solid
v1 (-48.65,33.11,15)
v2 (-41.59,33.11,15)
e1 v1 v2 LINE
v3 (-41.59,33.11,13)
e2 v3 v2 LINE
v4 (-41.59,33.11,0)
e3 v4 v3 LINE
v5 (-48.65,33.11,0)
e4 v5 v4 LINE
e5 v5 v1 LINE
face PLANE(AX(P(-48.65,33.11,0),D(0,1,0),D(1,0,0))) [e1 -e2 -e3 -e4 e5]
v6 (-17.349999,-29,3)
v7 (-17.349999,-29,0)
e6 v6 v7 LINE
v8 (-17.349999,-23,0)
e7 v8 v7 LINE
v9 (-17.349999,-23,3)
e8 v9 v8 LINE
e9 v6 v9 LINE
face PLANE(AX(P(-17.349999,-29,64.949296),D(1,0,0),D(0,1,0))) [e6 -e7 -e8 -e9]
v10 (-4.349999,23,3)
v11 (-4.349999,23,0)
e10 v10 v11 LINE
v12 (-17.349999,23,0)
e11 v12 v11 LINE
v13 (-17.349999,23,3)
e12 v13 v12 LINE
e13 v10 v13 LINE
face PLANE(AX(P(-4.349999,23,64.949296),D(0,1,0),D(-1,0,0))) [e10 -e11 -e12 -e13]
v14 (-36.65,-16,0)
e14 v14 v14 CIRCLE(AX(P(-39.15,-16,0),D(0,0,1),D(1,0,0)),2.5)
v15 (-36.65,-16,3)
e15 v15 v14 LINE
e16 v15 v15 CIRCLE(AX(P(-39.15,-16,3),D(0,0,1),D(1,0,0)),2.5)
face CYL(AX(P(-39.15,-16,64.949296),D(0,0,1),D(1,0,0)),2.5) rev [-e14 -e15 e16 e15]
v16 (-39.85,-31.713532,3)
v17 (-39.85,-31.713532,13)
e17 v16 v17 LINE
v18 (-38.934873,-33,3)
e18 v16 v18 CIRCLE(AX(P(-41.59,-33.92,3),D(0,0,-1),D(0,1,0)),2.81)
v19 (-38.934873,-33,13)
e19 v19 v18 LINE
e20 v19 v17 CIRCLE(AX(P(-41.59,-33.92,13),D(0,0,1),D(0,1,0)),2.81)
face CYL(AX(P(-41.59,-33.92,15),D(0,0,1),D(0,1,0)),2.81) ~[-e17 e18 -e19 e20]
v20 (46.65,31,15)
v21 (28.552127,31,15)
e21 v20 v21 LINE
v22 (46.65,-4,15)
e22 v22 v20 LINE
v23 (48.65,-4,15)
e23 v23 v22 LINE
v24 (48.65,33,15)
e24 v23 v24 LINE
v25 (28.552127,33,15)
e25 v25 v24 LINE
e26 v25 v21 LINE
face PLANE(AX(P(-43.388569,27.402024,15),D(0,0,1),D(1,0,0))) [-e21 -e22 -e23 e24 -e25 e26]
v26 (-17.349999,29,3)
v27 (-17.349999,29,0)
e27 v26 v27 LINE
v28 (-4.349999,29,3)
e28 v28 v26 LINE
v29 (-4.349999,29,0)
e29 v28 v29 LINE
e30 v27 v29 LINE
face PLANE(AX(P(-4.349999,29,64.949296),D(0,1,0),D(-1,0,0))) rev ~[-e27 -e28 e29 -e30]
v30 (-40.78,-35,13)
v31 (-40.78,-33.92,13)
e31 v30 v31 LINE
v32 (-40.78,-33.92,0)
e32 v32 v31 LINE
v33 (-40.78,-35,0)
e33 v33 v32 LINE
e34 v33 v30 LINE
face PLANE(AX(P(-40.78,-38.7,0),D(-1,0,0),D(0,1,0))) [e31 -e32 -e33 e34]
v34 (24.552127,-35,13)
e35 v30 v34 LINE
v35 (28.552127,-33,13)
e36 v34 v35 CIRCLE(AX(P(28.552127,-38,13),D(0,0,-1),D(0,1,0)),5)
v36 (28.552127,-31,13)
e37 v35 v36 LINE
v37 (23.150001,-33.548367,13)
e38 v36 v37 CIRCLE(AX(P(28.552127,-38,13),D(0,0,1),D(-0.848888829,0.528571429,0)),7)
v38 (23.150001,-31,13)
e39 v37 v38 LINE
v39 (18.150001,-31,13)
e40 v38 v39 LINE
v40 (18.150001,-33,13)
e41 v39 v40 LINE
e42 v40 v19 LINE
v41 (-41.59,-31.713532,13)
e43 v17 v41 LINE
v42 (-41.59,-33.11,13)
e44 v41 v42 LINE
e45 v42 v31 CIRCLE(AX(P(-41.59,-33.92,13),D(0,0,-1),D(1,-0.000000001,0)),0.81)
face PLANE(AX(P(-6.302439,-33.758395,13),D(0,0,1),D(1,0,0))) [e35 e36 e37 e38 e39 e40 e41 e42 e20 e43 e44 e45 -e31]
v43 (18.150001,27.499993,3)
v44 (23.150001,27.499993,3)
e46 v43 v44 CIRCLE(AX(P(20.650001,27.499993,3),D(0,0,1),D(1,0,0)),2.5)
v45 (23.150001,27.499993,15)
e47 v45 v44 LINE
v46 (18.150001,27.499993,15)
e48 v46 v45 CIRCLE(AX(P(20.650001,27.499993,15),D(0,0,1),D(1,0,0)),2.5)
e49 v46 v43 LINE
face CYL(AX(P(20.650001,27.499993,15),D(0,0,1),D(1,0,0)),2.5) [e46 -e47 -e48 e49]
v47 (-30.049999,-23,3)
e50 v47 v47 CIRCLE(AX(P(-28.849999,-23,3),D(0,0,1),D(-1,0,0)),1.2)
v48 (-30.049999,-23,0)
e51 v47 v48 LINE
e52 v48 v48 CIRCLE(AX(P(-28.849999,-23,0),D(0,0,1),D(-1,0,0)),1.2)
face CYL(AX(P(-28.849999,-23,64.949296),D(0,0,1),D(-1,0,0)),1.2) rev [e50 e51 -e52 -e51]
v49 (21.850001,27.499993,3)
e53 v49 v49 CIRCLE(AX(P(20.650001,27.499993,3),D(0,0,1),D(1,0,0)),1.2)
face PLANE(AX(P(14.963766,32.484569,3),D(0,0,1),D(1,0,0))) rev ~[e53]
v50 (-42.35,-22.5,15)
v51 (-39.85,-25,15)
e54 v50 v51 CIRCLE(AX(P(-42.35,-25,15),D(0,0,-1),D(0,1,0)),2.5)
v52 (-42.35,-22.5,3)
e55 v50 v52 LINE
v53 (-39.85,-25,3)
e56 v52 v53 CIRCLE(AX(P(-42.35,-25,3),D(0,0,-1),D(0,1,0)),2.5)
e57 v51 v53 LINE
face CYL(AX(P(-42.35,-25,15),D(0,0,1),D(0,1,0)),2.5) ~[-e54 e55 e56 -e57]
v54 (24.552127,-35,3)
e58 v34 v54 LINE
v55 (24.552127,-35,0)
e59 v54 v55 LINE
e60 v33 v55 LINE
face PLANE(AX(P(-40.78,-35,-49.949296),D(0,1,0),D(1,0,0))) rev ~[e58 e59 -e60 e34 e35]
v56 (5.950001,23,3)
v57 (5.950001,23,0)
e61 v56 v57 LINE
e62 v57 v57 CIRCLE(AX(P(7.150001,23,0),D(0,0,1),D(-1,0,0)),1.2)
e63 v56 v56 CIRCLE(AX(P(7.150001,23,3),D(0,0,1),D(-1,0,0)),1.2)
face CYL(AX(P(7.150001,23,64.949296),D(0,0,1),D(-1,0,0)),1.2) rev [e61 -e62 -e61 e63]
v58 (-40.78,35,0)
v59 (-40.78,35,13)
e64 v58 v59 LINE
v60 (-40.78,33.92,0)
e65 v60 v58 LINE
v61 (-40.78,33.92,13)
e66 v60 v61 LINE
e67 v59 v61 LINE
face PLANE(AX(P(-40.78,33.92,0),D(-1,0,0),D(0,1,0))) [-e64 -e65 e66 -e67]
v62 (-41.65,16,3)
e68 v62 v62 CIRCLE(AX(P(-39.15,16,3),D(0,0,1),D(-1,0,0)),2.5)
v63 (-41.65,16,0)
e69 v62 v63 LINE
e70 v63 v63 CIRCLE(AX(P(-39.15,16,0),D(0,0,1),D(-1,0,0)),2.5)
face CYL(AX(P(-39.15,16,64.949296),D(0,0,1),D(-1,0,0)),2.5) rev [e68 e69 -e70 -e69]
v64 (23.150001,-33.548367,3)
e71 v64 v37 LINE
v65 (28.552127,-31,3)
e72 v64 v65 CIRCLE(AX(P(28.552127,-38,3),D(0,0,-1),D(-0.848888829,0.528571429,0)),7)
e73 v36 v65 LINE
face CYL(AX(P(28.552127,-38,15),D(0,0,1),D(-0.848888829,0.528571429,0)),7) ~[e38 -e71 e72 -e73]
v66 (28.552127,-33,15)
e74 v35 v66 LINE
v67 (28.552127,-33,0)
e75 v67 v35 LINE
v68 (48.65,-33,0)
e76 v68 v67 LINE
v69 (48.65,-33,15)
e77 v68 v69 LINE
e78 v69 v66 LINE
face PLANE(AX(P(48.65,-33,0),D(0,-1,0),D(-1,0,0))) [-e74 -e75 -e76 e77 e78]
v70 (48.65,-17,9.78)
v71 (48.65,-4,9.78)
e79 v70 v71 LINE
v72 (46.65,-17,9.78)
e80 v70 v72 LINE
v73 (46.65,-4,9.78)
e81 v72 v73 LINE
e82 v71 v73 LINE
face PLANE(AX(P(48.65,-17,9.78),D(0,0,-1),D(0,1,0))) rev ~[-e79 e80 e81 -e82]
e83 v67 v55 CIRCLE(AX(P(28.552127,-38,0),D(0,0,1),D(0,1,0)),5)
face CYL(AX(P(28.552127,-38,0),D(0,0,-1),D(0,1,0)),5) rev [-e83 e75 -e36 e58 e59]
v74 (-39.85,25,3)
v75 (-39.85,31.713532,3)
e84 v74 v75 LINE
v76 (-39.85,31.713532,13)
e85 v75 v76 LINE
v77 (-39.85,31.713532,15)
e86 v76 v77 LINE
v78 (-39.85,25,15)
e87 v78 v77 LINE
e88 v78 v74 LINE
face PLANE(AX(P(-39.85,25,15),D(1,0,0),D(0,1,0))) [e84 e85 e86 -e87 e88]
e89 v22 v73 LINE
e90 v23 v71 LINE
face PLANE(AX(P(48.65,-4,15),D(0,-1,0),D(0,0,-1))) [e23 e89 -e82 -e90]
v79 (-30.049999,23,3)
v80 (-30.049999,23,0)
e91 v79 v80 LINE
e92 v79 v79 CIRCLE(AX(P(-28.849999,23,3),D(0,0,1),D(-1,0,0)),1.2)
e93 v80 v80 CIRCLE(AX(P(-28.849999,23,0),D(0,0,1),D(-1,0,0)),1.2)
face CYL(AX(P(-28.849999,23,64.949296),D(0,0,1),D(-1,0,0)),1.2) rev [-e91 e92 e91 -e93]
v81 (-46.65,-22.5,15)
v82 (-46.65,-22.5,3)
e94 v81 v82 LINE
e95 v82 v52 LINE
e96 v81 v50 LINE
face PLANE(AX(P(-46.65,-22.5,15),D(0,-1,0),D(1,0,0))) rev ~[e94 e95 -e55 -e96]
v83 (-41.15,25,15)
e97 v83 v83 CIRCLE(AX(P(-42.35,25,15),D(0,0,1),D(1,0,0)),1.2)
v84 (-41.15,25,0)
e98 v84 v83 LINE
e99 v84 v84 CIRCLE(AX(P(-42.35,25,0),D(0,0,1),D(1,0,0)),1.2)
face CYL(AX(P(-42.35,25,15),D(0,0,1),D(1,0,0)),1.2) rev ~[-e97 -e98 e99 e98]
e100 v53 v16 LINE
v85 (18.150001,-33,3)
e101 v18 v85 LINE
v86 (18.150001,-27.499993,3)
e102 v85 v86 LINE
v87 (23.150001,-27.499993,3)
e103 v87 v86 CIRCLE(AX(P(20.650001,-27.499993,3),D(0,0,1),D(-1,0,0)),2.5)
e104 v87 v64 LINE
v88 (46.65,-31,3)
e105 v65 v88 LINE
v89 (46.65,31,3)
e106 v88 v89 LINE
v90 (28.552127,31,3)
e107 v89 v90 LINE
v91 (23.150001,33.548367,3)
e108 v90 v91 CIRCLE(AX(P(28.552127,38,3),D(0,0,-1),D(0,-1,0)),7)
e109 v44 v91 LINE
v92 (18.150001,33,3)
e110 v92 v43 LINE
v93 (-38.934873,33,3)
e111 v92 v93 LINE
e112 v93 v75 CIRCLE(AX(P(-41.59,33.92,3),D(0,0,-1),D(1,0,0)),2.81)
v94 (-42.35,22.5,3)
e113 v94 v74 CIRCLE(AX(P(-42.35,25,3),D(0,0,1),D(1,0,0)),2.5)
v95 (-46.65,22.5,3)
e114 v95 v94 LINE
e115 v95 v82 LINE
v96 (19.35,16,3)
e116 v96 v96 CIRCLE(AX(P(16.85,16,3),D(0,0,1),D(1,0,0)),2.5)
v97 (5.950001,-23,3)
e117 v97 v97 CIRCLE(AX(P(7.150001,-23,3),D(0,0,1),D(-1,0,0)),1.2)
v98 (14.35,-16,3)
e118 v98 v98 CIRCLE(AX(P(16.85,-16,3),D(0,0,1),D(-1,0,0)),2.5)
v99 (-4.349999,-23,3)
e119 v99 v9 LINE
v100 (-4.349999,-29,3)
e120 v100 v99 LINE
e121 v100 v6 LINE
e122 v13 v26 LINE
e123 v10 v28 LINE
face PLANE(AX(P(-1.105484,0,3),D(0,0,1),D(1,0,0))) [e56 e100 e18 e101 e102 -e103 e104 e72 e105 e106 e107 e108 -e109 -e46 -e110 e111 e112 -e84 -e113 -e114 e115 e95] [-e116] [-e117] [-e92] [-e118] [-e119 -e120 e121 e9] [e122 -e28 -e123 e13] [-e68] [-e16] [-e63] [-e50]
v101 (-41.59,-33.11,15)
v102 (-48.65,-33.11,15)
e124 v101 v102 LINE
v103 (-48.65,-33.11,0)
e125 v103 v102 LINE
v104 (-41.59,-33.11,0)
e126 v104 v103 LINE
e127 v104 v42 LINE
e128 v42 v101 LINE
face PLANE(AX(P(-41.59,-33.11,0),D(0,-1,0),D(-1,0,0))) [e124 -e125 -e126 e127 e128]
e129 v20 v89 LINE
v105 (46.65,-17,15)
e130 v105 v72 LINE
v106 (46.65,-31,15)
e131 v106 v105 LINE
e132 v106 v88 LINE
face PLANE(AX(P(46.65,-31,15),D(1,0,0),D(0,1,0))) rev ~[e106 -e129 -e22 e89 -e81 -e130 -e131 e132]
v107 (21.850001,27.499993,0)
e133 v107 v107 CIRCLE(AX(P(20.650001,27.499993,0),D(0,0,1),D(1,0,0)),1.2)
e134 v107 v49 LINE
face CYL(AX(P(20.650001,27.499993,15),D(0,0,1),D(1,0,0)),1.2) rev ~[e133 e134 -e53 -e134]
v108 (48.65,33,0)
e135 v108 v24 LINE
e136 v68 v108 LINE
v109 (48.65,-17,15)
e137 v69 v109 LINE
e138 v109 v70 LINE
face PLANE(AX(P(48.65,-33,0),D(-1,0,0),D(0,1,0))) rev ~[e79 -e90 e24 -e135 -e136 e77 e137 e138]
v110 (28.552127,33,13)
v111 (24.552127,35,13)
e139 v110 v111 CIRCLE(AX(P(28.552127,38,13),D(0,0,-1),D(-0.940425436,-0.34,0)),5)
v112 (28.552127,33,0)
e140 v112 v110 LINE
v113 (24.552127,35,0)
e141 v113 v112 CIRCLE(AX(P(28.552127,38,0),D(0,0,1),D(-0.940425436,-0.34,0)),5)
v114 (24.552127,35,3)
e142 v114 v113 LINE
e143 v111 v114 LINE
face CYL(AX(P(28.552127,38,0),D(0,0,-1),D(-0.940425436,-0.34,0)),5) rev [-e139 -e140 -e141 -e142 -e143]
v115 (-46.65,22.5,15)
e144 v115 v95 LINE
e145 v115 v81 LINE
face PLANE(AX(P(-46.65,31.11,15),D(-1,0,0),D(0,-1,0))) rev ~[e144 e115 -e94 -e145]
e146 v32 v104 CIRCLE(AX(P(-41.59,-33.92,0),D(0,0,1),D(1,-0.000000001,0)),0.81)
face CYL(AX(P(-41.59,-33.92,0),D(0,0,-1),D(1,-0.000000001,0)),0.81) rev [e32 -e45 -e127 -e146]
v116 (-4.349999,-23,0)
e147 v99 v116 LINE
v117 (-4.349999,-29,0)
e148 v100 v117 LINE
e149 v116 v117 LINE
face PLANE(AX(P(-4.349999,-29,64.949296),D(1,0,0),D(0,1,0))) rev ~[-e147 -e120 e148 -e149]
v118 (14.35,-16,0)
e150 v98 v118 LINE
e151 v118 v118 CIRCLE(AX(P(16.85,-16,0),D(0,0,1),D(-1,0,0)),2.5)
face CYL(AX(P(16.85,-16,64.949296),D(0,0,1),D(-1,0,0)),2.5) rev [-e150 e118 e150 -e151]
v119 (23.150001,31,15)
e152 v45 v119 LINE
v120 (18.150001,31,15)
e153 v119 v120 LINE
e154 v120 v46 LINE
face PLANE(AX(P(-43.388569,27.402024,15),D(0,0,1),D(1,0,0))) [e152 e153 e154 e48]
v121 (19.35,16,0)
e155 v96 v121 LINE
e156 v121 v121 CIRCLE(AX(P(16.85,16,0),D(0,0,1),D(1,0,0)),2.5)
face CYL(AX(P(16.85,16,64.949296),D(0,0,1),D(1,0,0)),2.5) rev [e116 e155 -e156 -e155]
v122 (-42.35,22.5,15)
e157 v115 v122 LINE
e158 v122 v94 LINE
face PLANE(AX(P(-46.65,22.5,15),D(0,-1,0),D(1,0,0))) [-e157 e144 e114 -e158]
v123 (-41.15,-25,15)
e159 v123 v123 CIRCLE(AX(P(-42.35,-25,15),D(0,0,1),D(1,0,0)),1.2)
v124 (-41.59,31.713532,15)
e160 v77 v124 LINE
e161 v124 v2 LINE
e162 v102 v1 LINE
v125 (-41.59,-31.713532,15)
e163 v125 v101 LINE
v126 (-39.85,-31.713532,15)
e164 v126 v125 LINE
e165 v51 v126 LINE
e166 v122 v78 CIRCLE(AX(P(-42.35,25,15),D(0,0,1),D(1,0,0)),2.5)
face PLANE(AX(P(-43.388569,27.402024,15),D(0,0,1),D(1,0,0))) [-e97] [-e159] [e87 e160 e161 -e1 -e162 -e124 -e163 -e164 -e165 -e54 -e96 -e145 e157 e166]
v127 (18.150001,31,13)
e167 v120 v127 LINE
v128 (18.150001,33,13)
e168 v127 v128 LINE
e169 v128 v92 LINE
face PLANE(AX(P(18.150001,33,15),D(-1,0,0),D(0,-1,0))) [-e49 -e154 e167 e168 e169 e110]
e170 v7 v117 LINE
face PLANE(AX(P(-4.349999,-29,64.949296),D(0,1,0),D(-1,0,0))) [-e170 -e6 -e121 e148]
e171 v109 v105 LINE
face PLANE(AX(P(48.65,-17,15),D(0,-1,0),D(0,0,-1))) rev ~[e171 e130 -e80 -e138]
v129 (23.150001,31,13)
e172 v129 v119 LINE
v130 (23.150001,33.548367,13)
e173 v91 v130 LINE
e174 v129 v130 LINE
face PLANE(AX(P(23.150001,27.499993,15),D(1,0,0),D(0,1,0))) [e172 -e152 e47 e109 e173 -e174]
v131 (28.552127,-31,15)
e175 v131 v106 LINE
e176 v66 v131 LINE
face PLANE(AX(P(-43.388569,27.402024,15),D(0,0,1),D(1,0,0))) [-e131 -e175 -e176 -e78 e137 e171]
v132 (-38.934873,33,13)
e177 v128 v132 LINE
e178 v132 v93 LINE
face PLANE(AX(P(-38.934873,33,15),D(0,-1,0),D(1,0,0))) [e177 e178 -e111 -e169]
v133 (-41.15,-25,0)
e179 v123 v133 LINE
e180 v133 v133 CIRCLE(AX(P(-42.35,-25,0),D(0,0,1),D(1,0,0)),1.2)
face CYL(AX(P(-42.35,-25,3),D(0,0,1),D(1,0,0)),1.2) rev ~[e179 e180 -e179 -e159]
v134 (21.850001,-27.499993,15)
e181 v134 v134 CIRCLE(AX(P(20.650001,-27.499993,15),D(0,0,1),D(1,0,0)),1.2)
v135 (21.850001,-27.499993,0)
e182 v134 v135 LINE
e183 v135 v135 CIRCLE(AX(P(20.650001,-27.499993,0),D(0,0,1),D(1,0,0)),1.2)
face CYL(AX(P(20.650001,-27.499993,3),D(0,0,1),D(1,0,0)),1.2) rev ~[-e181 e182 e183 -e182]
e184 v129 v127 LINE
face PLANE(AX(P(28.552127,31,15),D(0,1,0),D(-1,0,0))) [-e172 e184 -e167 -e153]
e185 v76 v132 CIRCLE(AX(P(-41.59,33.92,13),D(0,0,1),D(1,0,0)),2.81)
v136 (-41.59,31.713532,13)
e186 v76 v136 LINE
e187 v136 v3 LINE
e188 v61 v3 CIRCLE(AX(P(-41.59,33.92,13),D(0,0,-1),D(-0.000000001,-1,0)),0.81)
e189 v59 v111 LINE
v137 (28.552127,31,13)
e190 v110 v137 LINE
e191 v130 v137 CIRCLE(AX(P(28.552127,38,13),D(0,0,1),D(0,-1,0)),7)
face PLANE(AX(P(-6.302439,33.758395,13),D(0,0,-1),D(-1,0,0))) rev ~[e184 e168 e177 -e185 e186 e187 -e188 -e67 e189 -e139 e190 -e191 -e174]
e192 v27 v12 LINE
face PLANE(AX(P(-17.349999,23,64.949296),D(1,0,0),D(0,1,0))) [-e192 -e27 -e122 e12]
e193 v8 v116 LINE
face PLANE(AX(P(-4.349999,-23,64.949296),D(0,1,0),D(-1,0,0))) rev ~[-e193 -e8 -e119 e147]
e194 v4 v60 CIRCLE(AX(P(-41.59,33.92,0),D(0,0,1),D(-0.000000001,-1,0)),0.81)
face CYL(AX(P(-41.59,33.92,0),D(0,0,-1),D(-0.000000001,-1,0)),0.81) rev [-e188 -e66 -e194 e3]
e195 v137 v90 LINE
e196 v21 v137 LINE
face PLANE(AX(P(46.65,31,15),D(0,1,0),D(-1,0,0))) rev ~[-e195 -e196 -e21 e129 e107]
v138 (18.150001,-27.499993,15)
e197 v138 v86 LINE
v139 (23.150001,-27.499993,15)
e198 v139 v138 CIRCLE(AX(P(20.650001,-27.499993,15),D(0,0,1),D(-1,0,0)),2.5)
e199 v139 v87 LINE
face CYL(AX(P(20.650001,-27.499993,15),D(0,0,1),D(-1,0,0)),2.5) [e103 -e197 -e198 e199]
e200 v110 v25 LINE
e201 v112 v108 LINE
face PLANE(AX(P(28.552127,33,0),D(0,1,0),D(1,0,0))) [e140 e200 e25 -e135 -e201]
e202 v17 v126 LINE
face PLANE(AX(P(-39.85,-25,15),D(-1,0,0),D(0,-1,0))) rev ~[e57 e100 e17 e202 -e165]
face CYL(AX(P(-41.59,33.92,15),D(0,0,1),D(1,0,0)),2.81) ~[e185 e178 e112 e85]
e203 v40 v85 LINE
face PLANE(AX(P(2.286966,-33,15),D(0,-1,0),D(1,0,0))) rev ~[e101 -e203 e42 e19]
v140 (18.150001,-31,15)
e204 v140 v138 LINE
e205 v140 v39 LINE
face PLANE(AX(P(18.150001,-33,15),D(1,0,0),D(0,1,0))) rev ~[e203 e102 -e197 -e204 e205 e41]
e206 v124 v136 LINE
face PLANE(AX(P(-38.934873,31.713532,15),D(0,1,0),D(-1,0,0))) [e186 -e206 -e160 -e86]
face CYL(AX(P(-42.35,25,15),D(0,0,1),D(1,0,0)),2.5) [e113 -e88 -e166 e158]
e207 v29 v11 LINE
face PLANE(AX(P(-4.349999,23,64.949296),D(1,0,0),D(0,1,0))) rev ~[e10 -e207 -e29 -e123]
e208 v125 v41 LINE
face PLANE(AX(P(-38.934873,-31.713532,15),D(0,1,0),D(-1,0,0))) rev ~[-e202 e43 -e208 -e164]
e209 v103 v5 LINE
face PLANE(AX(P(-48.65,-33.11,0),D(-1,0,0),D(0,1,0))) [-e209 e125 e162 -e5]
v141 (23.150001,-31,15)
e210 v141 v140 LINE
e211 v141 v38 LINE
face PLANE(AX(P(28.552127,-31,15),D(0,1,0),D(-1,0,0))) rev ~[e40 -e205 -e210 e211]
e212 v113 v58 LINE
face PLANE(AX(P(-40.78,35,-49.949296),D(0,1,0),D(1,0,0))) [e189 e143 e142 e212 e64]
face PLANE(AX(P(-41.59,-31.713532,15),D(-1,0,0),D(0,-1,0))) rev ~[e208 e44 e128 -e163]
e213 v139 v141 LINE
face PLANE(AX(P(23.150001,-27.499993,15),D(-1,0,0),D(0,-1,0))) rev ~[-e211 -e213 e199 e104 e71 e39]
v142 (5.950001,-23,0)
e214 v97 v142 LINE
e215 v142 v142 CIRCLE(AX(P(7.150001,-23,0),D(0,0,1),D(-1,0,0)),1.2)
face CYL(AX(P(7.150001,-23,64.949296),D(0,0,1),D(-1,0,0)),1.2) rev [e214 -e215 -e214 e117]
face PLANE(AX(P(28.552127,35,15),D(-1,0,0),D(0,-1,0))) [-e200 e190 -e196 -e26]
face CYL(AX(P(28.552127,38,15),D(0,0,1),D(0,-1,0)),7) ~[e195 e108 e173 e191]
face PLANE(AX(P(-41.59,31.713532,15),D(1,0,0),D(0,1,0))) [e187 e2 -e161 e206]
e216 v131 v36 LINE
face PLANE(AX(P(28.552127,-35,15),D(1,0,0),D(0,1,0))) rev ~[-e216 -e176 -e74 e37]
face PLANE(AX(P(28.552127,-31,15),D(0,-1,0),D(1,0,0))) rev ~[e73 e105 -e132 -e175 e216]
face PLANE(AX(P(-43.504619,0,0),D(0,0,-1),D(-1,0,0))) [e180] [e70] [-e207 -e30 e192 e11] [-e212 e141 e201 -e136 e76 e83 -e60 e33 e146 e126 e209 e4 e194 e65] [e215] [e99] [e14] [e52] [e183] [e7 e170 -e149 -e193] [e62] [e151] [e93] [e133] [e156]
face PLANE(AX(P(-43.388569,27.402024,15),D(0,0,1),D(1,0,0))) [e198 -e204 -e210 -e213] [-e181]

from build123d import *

# Parameters (mm, degrees)
SKIZZE1_W                            = 12
SKIZZE1_H                            = 77.4
AUFSATZ_LINEAR_AUSTRAGEN1_DEPTH      = 15
SCHNITT_LINEAR_AUSTRAGEN1_DEPTH      = 12
SKIZZE3_R                            = 1.2
SCHNITT_LINEAR_AUSTRAGEN2_DEPTH      = 10
SKIZZE4_W                            = 5.22
SKIZZE4_H                            = 13
SCHNITT_LINEAR_AUSTRAGEN3_DEPTH      = 5
SCHNITT_LINEAR_AUSTRAGEN4_DEPTH      = 64.949296321
SCHNITT_LINEAR_AUSTRAGEN4_DEPTH_BACK = 64.949296321
SKIZZE5_R                            = 1.2
SCHNITT_LINEAR_AUSTRAGEN5_DEPTH      = 64.949296321
SCHNITT_LINEAR_AUSTRAGEN5_DEPTH_BACK = 64.949296321
SKIZZE6_R                            = 2.5
SCHNITT_LINEAR_AUSTRAGEN6_DEPTH      = 64.949296321
SCHNITT_LINEAR_AUSTRAGEN6_DEPTH_BACK = 64.949296321
SKIZZE7_W                            = 13
SKIZZE7_H                            = 6
AUFSATZ_LINEAR_START                 = 12
SKIZZE8_R                            = 2.5
SKIZZE8_R_2                          = 1.200003308
SKIZZE8_R_3                          = 1.2
AUFSATZ_LINEAR_AUSTRAGEN2_DEPTH      = 12
SKIZZE9_R                            = 1.2
SKIZZE9_R_2                          = 1.200003308
AUFSATZ_LINEAR_AUSTRAGEN3_DEPTH      = 12
SCHNITT_LINEAR_AUSTRAGEN7_DEPTH      = 64.949296321
SCHNITT_LINEAR_AUSTRAGEN7_DEPTH_BACK = 64.949296321
SKIZZE10_W                           = 76.97303699
SKIZZE10_H                           = 5.16089798
SCHNITT_LINEAR_AUSTRAGEN8_DEPTH      = 2


with BuildPart() as part:
    # Skizze1 → Aufsatz-Linear austragen1 (new body)
    with BuildSketch(Plane.XY):
        with BuildLine():
            ThreePointArc((-40.78, -33.92), (-41.017243507, -33.347243507), (-41.59, -33.11))
            Line((-41.59, -33.11), (-48.65, -33.11))
            Line((-48.65, -33.11), (-48.65, 33.11))
            Line((-48.65, 33.11), (-41.59, 33.11))
            ThreePointArc((-41.59, 33.11), (-41.017243507, 33.347243507), (-40.78, 33.92))
            Line((-40.78, 33.92), (-40.78, 38.7))
            Line((-40.78, 38.7), (-39.35, 38.7))
            Line((-39.35, 38.7), (-39.35, -38.7))
            Line((-39.35, -38.7), (-40.78, -38.7))
            Line((-40.78, -38.7), (-40.78, -33.92))
        make_face()
        with Locations((-33.35, 0)):
            Rectangle(SKIZZE1_W, SKIZZE1_H)
        with BuildLine():
            ThreePointArc((9.355872211, 33.3), (8.489846807, 33.224428901), (7.65, 33))
            Line((7.65, 33), (-24.35, 33))
            Line((-24.35, 33), (-24.35, -33))
            Line((-24.35, -33), (7.65, -33))
            ThreePointArc((7.65, -33), (8.489846807, -33.224428901), (9.355872211, -33.3))
            Line((9.355872211, -33.3), (17.45, -33.3))
            Line((17.45, -33.3), (17.45, -24))
            Line((17.45, -24), (23.85, -24))
            Line((23.85, -24), (23.85, -30))
            Line((23.85, -30), (34.2, -30))
            Line((34.2, -30), (45.65, -30))
            Line((45.65, -30), (45.65, 3))
            Line((45.65, 3), (48.65, 3))
            Line((48.65, 3), (48.65, -33))
            Line((48.65, -33), (34.2, -33))
            Line((34.2, -33), (28.552127178, -33))
            ThreePointArc((28.552127178, -33), (25.679845855, -33.907323614), (23.85, -36.3))
            Line((23.85, -36.3), (5.65, -36.3))
            ThreePointArc((5.65, -36.3), (4.089741294, -35.336310473), (2.286965656, -35))
            Line((2.286965656, -35), (-20.521956918, -35))
            ThreePointArc((-20.521956918, -35), (-23.563338183, -36.031373033), (-25.35, -38.7))
            Line((-25.35, -38.7), (-27.35, -38.7))
            Line((-27.35, -38.7), (-27.35, 38.7))
            Line((-27.35, 38.7), (-25.35, 38.7))
            ThreePointArc((-25.35, 38.7), (-23.563338183, 36.031373033), (-20.521956918, 35))
            Line((-20.521956918, 35), (2.286965656, 35))
            ThreePointArc((2.286965656, 35), (4.089741294, 35.336310473), (5.65, 36.3))
            Line((5.65, 36.3), (23.85, 36.3))
            ThreePointArc((23.85, 36.3), (25.679845855, 33.907323614), (28.552127178, 33))
            Line((28.552127178, 33), (34.2, 33))
            Line((34.2, 33), (48.65, 33))
            Line((48.65, 33), (48.65, 18))
            Line((48.65, 18), (45.65, 18))
            Line((45.65, 18), (45.65, 30))
            Line((45.65, 30), (34.2, 30))
            Line((34.2, 30), (23.85, 30))
            Line((23.85, 30), (23.85, 24))
            Line((23.85, 24), (17.45, 24))
            Line((17.45, 24), (17.45, 33.3))
            Line((17.45, 33.3), (9.355872211, 33.3))
        make_face()
        with BuildLine():
            Line((9.355872211, 33.3), (17.45, 33.3))
            Line((17.45, 33.3), (17.45, 24))
            Line((17.45, 24), (23.85, 24))
            Line((23.85, 24), (23.85, 30))
            Line((23.85, 30), (34.2, 30))
            Line((34.2, 30), (45.65, 30))
            Line((45.65, 30), (45.65, 18))
            Line((45.65, 18), (48.65, 18))
            Line((48.65, 18), (48.65, 3))
            Line((48.65, 3), (45.65, 3))
            Line((45.65, 3), (45.65, -30))
            Line((45.65, -30), (34.2, -30))
            Line((34.2, -30), (23.85, -30))
            Line((23.85, -30), (23.85, -24))
            Line((23.85, -24), (17.45, -24))
            Line((17.45, -24), (17.45, -33.3))
            Line((17.45, -33.3), (9.355872211, -33.3))
            ThreePointArc((9.355872211, -33.3), (8.489846807, -33.224428901), (7.65, -33))
            Line((7.65, -33), (-24.35, -33))
            Line((-24.35, -33), (-24.35, 33))
            Line((-24.35, 33), (7.65, 33))
            ThreePointArc((7.65, 33), (8.489846807, 33.224428901), (9.355872211, 33.3))
        make_face()
    extrude(amount=AUFSATZ_LINEAR_AUSTRAGEN1_DEPTH)

    # Skizze2 → Schnitt-Linear austragen1 (cut)
    with BuildSketch(Plane.XY.offset(15)):
        with BuildLine():
            Line((46.65, -31), (46.65, 31))
            Line((46.65, 31), (28.552127178, 31))
            ThreePointArc((28.552127178, 31), (25.153598085, 31.880359488), (22.609905372, 34.3))
            Line((22.609905372, 34.3), (6.350215587, 34.3))
            ThreePointArc((6.350215587, 34.3), (4.420038557, 33.33291668), (2.286965656, 33))
            Line((2.286965656, 33), (-20.521956918, 33))
            ThreePointArc((-20.521956918, 33), (-24.120567761, 33.995834779), (-26.695286652, 36.7))
            Line((-26.695286652, 36.7), (-38.78, 36.7))
            Line((-38.78, 36.7), (-38.78, 33.92))
            ThreePointArc((-38.78, 33.92), (-39.603029945, 31.933029945), (-41.59, 31.11))
            Line((-41.59, 31.11), (-46.65, 31.11))
            Line((-46.65, 31.11), (-46.65, -31.11))
            Line((-46.65, -31.11), (-41.59, -31.11))
            ThreePointArc((-41.59, -31.11), (-39.603029945, -31.933029945), (-38.78, -33.92))
            Line((-38.78, -33.92), (-38.78, -36.7))
            Line((-38.78, -36.7), (-26.695286652, -36.7))
            ThreePointArc((-26.695286652, -36.7), (-24.120567761, -33.995834779), (-20.521956918, -33))
            Line((-20.521956918, -33), (2.286965656, -33))
            ThreePointArc((2.286965656, -33), (4.420038557, -33.33291668), (6.350215587, -34.3))
            Line((6.350215587, -34.3), (22.609905372, -34.3))
            ThreePointArc((22.609905372, -34.3), (25.153598085, -31.880359488), (28.552127178, -31))
            Line((28.552127178, -31), (46.65, -31))
        make_face()
    extrude(amount=-SCHNITT_LINEAR_AUSTRAGEN1_DEPTH, mode=Mode.SUBTRACT)

    # Skizze3 → Schnitt-Linear austragen2 (cut)
    with BuildSketch(Plane.XY.offset(3)):
        with Locations((-42.35, 25)):
            Circle(SKIZZE3_R)
        with Locations((20.650001099, 27.499992502)):
            Circle(SKIZZE3_R)
        with Locations((20.650001099, -27.499992502)):
            Circle(SKIZZE3_R)
        with Locations((-42.35, -25)):
            Circle(SKIZZE3_R)
    extrude(amount=-SCHNITT_LINEAR_AUSTRAGEN2_DEPTH, mode=Mode.SUBTRACT)

    # Skizze4 → Schnitt-Linear austragen3 (cut)
    with BuildSketch(Plane(origin=(48.65, 0, 0), x_dir=(0, 0, -1), z_dir=(1, 0, 0))):
        with Locations((-12.39, -10.5)):
            Rectangle(SKIZZE4_W, SKIZZE4_H)
    extrude(amount=-SCHNITT_LINEAR_AUSTRAGEN3_DEPTH, mode=Mode.SUBTRACT)

    # Skizze5 → Schnitt-Linear austragen4 (cut, two sides: drawn at the far end of the back side and taken through both)
    with BuildSketch(Plane(origin=(0, 0, 0), x_dir=(-1, 0, 0), z_dir=(0, 0, -1)).offset(-SCHNITT_LINEAR_AUSTRAGEN4_DEPTH_BACK)):
        with Locations((-7.15000055, 23)):
            Circle(SKIZZE5_R)
        with Locations((28.84999945, 23)):
            Circle(SKIZZE5_R)
        with Locations((-7.15000055, -23)):
            Circle(SKIZZE5_R)
        with Locations((28.84999945, -23)):
            Circle(SKIZZE5_R)
    extrude(amount=SCHNITT_LINEAR_AUSTRAGEN4_DEPTH + SCHNITT_LINEAR_AUSTRAGEN4_DEPTH_BACK, mode=Mode.SUBTRACT)

    # Skizze6 → Schnitt-Linear austragen5 (cut, two sides: drawn at the far end of the back side and taken through both)
    with BuildSketch(Plane(origin=(0, 0, 0), x_dir=(-1, 0, 0), z_dir=(0, 0, -1)).offset(-SCHNITT_LINEAR_AUSTRAGEN5_DEPTH_BACK)):
        with Locations((-16.85, -16)):
            Circle(SKIZZE6_R)
        with Locations(Location((-16.85, 16, 0), (0, 0, 180))):
            Circle(SKIZZE6_R)
        with Locations((39.15, 16)):
            Circle(SKIZZE6_R)
        with Locations(Location((39.15, -16, 0), (0, 0, 180))):
            Circle(SKIZZE6_R)
    extrude(amount=SCHNITT_LINEAR_AUSTRAGEN5_DEPTH + SCHNITT_LINEAR_AUSTRAGEN5_DEPTH_BACK, mode=Mode.SUBTRACT)

    # Skizze7 → Schnitt-Linear austragen6 (cut, two sides: drawn at the far end of the back side and taken through both)
    with BuildSketch(Plane(origin=(0, 0, 0), x_dir=(-1, 0, 0), z_dir=(0, 0, -1)).offset(-SCHNITT_LINEAR_AUSTRAGEN6_DEPTH_BACK)):
        with Locations((10.84999945, -26)):
            Rectangle(SKIZZE7_W, SKIZZE7_H)
        with Locations((10.84999945, 26)):
            Rectangle(SKIZZE7_W, SKIZZE7_H)
    extrude(amount=SCHNITT_LINEAR_AUSTRAGEN6_DEPTH + SCHNITT_LINEAR_AUSTRAGEN6_DEPTH_BACK, mode=Mode.SUBTRACT)

    # Skizze8 → Aufsatz-Linear austragen2 (add)
    # profile 1 of 4: a face of its own
    with BuildSketch(Plane.XY.offset(3).offset(AUFSATZ_LINEAR_START)):
        with Locations((-42.35, 25)):
            Circle(SKIZZE8_R)
        with Locations((-42.35, 25)):
            Circle(SKIZZE8_R_2, mode=Mode.SUBTRACT)
    # profile 2 of 4: a face of its own
    with BuildSketch(Plane.XY.offset(3).offset(AUFSATZ_LINEAR_START)):
        with Locations(Location((-42.35, -25, 0), (0, 0, 180))):
            Circle(SKIZZE8_R)
        with Locations((-42.35, -25)):
            Circle(SKIZZE8_R_2, mode=Mode.SUBTRACT)
    # profile 3 of 4: a face of its own
    with BuildSketch(Plane.XY.offset(3).offset(AUFSATZ_LINEAR_START)):
        with Locations((20.650001099, 27.499992502)):
            Circle(SKIZZE8_R)
        with Locations((20.650001099, 27.499992502)):
            Circle(SKIZZE8_R_3, mode=Mode.SUBTRACT)
    # profile 4 of 4: a face of its own
    with BuildSketch(Plane.XY.offset(3).offset(AUFSATZ_LINEAR_START)):
        with Locations(Location((20.650001099, -27.499992502, 0), (0, 0, 180))):
            Circle(SKIZZE8_R)
        with Locations((20.650001099, -27.499992502)):
            Circle(SKIZZE8_R_3, mode=Mode.SUBTRACT)
    extrude(amount=-AUFSATZ_LINEAR_AUSTRAGEN2_DEPTH)

    # Skizze9 → Aufsatz-Linear austragen3 (add)
    # profile 1 of 6: a face of its own
    with BuildSketch(Plane.XY.offset(3).offset(AUFSATZ_LINEAR_START)):
        with BuildLine():
            Line((-39.85, 25), (-39.85, 31.933029945))
            Line((-39.85, 31.933029945), (-46.65, 31.933029945))
            Line((-46.65, 31.933029945), (-46.65, 22.5))
            Line((-46.65, 22.5), (-42.35, 22.5))
            ThreePointArc((-42.35, 22.5), (-40.582233047, 23.232233047), (-39.85, 25))
        make_face()
        with Locations((-42.35, 25)):
            Circle(SKIZZE9_R, mode=Mode.SUBTRACT)
    # profile 2 of 6: a face of its own
    with BuildSketch(Plane.XY.offset(3).offset(AUFSATZ_LINEAR_START)):
        with BuildLine():
            Line((18.150001099, 33), (18.150001099, 27.499992502))
            ThreePointArc((18.150001099, 27.499992502), (20.650001099, 24.999992502), (23.150001099, 27.499992502))
            Line((23.150001099, 27.499992502), (23.150001099, 34.3))
            Line((23.150001099, 34.3), (24.552127178, 34.3))
            Line((24.552127178, 34.3), (24.552127178, 35))
            Line((24.552127178, 35), (2.286965656, 35))
            Line((2.286965656, 35), (2.286965656, 33))
            Line((2.286965656, 33), (18.150001099, 33))
        make_face()
    # profile 3 of 6: a face of its own
    with BuildSketch(Plane.XY.offset(3).offset(AUFSATZ_LINEAR_START)):
        with BuildLine():
            Line((-46.65, -22.5), (-42.35, -22.5))
            ThreePointArc((-42.35, -22.5), (-40.582233047, -23.232233047), (-39.85, -25))
            Line((-39.85, -25), (-39.85, -31.933029945))
            Line((-39.85, -31.933029945), (-46.65, -31.933029945))
            Line((-46.65, -31.933029945), (-46.65, -22.5))
        make_face()
        with Locations((-42.35, -25)):
            Circle(SKIZZE9_R, mode=Mode.SUBTRACT)
    # profile 4 of 6: a face of its own
    with BuildSketch(Plane.XY.offset(3).offset(AUFSATZ_LINEAR_START)):
        Polygon((-20.521956918, -33), (-38.934872884, -33), (-38.78, -35), (-20.521956918, -35), align=None)
    # profile 5 of 6: a face of its own
    with BuildSketch(Plane.XY.offset(3).offset(AUFSATZ_LINEAR_START)):
        Polygon((-20.521956918, 33), (-20.521956918, 35), (-38.78, 35), (-38.934872884, 33), align=None)
    # profile 6 of 6: a face of its own
    with BuildSketch(Plane.XY.offset(3).offset(AUFSATZ_LINEAR_START)):
        with BuildLine():
            Line((2.286965656, -35), (2.286965656, -33))
            Line((2.286965656, -33), (18.150001099, -33))
            Line((18.150001099, -33), (18.150001099, -27.499992502))
            ThreePointArc((18.150001099, -27.499992502), (20.650001099, -24.999992502), (23.150001099, -27.499992502))
            Line((23.150001099, -27.499992502), (23.150001099, -34.3))
            Line((23.150001099, -34.3), (24.552127178, -34.3))
            Line((24.552127178, -34.3), (24.552127178, -35))
            Line((24.552127178, -35), (2.286965656, -35))
        make_face()
        with Locations((20.650001099, -27.499992502)):
            Circle(SKIZZE9_R_2, mode=Mode.SUBTRACT)
    extrude(amount=-AUFSATZ_LINEAR_AUSTRAGEN3_DEPTH)

    # Skizze10 → Schnitt-Linear austragen7 (cut, two sides: drawn at the far end of the back side and taken through both)
    with BuildSketch(Plane.XY.offset(15).offset(-SCHNITT_LINEAR_AUSTRAGEN7_DEPTH_BACK)):
        with Locations((-2.293481505, 37.58044899)):
            Rectangle(SKIZZE10_W, SKIZZE10_H)
        with Locations((-2.293481505, -37.58044899)):
            Rectangle(SKIZZE10_W, SKIZZE10_H)
    extrude(amount=SCHNITT_LINEAR_AUSTRAGEN7_DEPTH + SCHNITT_LINEAR_AUSTRAGEN7_DEPTH_BACK, mode=Mode.SUBTRACT)

    # Skizze11 → Schnitt-Linear austragen8 (cut)
    with BuildSketch(Plane.XY.offset(15)):
        Polygon((-41.59, 31.713532235), (-41.59, 35), (28.552127178, 35), (28.552127178, 31), (18.150001099, 31), (18.150001099, 33), (-38.934872884, 33), (-38.934872884, 31.713532235), align=None)
        Polygon((-38.934872884, -33), (-38.934872884, -31.713532235), (-41.59, -31.713532235), (-41.59, -35), (28.552127178, -35), (28.552127178, -31), (18.150001099, -31), (18.150001099, -33), align=None)
    extrude(amount=-SCHNITT_LINEAR_AUSTRAGEN8_DEPTH, mode=Mode.SUBTRACT)


solid = part.part
